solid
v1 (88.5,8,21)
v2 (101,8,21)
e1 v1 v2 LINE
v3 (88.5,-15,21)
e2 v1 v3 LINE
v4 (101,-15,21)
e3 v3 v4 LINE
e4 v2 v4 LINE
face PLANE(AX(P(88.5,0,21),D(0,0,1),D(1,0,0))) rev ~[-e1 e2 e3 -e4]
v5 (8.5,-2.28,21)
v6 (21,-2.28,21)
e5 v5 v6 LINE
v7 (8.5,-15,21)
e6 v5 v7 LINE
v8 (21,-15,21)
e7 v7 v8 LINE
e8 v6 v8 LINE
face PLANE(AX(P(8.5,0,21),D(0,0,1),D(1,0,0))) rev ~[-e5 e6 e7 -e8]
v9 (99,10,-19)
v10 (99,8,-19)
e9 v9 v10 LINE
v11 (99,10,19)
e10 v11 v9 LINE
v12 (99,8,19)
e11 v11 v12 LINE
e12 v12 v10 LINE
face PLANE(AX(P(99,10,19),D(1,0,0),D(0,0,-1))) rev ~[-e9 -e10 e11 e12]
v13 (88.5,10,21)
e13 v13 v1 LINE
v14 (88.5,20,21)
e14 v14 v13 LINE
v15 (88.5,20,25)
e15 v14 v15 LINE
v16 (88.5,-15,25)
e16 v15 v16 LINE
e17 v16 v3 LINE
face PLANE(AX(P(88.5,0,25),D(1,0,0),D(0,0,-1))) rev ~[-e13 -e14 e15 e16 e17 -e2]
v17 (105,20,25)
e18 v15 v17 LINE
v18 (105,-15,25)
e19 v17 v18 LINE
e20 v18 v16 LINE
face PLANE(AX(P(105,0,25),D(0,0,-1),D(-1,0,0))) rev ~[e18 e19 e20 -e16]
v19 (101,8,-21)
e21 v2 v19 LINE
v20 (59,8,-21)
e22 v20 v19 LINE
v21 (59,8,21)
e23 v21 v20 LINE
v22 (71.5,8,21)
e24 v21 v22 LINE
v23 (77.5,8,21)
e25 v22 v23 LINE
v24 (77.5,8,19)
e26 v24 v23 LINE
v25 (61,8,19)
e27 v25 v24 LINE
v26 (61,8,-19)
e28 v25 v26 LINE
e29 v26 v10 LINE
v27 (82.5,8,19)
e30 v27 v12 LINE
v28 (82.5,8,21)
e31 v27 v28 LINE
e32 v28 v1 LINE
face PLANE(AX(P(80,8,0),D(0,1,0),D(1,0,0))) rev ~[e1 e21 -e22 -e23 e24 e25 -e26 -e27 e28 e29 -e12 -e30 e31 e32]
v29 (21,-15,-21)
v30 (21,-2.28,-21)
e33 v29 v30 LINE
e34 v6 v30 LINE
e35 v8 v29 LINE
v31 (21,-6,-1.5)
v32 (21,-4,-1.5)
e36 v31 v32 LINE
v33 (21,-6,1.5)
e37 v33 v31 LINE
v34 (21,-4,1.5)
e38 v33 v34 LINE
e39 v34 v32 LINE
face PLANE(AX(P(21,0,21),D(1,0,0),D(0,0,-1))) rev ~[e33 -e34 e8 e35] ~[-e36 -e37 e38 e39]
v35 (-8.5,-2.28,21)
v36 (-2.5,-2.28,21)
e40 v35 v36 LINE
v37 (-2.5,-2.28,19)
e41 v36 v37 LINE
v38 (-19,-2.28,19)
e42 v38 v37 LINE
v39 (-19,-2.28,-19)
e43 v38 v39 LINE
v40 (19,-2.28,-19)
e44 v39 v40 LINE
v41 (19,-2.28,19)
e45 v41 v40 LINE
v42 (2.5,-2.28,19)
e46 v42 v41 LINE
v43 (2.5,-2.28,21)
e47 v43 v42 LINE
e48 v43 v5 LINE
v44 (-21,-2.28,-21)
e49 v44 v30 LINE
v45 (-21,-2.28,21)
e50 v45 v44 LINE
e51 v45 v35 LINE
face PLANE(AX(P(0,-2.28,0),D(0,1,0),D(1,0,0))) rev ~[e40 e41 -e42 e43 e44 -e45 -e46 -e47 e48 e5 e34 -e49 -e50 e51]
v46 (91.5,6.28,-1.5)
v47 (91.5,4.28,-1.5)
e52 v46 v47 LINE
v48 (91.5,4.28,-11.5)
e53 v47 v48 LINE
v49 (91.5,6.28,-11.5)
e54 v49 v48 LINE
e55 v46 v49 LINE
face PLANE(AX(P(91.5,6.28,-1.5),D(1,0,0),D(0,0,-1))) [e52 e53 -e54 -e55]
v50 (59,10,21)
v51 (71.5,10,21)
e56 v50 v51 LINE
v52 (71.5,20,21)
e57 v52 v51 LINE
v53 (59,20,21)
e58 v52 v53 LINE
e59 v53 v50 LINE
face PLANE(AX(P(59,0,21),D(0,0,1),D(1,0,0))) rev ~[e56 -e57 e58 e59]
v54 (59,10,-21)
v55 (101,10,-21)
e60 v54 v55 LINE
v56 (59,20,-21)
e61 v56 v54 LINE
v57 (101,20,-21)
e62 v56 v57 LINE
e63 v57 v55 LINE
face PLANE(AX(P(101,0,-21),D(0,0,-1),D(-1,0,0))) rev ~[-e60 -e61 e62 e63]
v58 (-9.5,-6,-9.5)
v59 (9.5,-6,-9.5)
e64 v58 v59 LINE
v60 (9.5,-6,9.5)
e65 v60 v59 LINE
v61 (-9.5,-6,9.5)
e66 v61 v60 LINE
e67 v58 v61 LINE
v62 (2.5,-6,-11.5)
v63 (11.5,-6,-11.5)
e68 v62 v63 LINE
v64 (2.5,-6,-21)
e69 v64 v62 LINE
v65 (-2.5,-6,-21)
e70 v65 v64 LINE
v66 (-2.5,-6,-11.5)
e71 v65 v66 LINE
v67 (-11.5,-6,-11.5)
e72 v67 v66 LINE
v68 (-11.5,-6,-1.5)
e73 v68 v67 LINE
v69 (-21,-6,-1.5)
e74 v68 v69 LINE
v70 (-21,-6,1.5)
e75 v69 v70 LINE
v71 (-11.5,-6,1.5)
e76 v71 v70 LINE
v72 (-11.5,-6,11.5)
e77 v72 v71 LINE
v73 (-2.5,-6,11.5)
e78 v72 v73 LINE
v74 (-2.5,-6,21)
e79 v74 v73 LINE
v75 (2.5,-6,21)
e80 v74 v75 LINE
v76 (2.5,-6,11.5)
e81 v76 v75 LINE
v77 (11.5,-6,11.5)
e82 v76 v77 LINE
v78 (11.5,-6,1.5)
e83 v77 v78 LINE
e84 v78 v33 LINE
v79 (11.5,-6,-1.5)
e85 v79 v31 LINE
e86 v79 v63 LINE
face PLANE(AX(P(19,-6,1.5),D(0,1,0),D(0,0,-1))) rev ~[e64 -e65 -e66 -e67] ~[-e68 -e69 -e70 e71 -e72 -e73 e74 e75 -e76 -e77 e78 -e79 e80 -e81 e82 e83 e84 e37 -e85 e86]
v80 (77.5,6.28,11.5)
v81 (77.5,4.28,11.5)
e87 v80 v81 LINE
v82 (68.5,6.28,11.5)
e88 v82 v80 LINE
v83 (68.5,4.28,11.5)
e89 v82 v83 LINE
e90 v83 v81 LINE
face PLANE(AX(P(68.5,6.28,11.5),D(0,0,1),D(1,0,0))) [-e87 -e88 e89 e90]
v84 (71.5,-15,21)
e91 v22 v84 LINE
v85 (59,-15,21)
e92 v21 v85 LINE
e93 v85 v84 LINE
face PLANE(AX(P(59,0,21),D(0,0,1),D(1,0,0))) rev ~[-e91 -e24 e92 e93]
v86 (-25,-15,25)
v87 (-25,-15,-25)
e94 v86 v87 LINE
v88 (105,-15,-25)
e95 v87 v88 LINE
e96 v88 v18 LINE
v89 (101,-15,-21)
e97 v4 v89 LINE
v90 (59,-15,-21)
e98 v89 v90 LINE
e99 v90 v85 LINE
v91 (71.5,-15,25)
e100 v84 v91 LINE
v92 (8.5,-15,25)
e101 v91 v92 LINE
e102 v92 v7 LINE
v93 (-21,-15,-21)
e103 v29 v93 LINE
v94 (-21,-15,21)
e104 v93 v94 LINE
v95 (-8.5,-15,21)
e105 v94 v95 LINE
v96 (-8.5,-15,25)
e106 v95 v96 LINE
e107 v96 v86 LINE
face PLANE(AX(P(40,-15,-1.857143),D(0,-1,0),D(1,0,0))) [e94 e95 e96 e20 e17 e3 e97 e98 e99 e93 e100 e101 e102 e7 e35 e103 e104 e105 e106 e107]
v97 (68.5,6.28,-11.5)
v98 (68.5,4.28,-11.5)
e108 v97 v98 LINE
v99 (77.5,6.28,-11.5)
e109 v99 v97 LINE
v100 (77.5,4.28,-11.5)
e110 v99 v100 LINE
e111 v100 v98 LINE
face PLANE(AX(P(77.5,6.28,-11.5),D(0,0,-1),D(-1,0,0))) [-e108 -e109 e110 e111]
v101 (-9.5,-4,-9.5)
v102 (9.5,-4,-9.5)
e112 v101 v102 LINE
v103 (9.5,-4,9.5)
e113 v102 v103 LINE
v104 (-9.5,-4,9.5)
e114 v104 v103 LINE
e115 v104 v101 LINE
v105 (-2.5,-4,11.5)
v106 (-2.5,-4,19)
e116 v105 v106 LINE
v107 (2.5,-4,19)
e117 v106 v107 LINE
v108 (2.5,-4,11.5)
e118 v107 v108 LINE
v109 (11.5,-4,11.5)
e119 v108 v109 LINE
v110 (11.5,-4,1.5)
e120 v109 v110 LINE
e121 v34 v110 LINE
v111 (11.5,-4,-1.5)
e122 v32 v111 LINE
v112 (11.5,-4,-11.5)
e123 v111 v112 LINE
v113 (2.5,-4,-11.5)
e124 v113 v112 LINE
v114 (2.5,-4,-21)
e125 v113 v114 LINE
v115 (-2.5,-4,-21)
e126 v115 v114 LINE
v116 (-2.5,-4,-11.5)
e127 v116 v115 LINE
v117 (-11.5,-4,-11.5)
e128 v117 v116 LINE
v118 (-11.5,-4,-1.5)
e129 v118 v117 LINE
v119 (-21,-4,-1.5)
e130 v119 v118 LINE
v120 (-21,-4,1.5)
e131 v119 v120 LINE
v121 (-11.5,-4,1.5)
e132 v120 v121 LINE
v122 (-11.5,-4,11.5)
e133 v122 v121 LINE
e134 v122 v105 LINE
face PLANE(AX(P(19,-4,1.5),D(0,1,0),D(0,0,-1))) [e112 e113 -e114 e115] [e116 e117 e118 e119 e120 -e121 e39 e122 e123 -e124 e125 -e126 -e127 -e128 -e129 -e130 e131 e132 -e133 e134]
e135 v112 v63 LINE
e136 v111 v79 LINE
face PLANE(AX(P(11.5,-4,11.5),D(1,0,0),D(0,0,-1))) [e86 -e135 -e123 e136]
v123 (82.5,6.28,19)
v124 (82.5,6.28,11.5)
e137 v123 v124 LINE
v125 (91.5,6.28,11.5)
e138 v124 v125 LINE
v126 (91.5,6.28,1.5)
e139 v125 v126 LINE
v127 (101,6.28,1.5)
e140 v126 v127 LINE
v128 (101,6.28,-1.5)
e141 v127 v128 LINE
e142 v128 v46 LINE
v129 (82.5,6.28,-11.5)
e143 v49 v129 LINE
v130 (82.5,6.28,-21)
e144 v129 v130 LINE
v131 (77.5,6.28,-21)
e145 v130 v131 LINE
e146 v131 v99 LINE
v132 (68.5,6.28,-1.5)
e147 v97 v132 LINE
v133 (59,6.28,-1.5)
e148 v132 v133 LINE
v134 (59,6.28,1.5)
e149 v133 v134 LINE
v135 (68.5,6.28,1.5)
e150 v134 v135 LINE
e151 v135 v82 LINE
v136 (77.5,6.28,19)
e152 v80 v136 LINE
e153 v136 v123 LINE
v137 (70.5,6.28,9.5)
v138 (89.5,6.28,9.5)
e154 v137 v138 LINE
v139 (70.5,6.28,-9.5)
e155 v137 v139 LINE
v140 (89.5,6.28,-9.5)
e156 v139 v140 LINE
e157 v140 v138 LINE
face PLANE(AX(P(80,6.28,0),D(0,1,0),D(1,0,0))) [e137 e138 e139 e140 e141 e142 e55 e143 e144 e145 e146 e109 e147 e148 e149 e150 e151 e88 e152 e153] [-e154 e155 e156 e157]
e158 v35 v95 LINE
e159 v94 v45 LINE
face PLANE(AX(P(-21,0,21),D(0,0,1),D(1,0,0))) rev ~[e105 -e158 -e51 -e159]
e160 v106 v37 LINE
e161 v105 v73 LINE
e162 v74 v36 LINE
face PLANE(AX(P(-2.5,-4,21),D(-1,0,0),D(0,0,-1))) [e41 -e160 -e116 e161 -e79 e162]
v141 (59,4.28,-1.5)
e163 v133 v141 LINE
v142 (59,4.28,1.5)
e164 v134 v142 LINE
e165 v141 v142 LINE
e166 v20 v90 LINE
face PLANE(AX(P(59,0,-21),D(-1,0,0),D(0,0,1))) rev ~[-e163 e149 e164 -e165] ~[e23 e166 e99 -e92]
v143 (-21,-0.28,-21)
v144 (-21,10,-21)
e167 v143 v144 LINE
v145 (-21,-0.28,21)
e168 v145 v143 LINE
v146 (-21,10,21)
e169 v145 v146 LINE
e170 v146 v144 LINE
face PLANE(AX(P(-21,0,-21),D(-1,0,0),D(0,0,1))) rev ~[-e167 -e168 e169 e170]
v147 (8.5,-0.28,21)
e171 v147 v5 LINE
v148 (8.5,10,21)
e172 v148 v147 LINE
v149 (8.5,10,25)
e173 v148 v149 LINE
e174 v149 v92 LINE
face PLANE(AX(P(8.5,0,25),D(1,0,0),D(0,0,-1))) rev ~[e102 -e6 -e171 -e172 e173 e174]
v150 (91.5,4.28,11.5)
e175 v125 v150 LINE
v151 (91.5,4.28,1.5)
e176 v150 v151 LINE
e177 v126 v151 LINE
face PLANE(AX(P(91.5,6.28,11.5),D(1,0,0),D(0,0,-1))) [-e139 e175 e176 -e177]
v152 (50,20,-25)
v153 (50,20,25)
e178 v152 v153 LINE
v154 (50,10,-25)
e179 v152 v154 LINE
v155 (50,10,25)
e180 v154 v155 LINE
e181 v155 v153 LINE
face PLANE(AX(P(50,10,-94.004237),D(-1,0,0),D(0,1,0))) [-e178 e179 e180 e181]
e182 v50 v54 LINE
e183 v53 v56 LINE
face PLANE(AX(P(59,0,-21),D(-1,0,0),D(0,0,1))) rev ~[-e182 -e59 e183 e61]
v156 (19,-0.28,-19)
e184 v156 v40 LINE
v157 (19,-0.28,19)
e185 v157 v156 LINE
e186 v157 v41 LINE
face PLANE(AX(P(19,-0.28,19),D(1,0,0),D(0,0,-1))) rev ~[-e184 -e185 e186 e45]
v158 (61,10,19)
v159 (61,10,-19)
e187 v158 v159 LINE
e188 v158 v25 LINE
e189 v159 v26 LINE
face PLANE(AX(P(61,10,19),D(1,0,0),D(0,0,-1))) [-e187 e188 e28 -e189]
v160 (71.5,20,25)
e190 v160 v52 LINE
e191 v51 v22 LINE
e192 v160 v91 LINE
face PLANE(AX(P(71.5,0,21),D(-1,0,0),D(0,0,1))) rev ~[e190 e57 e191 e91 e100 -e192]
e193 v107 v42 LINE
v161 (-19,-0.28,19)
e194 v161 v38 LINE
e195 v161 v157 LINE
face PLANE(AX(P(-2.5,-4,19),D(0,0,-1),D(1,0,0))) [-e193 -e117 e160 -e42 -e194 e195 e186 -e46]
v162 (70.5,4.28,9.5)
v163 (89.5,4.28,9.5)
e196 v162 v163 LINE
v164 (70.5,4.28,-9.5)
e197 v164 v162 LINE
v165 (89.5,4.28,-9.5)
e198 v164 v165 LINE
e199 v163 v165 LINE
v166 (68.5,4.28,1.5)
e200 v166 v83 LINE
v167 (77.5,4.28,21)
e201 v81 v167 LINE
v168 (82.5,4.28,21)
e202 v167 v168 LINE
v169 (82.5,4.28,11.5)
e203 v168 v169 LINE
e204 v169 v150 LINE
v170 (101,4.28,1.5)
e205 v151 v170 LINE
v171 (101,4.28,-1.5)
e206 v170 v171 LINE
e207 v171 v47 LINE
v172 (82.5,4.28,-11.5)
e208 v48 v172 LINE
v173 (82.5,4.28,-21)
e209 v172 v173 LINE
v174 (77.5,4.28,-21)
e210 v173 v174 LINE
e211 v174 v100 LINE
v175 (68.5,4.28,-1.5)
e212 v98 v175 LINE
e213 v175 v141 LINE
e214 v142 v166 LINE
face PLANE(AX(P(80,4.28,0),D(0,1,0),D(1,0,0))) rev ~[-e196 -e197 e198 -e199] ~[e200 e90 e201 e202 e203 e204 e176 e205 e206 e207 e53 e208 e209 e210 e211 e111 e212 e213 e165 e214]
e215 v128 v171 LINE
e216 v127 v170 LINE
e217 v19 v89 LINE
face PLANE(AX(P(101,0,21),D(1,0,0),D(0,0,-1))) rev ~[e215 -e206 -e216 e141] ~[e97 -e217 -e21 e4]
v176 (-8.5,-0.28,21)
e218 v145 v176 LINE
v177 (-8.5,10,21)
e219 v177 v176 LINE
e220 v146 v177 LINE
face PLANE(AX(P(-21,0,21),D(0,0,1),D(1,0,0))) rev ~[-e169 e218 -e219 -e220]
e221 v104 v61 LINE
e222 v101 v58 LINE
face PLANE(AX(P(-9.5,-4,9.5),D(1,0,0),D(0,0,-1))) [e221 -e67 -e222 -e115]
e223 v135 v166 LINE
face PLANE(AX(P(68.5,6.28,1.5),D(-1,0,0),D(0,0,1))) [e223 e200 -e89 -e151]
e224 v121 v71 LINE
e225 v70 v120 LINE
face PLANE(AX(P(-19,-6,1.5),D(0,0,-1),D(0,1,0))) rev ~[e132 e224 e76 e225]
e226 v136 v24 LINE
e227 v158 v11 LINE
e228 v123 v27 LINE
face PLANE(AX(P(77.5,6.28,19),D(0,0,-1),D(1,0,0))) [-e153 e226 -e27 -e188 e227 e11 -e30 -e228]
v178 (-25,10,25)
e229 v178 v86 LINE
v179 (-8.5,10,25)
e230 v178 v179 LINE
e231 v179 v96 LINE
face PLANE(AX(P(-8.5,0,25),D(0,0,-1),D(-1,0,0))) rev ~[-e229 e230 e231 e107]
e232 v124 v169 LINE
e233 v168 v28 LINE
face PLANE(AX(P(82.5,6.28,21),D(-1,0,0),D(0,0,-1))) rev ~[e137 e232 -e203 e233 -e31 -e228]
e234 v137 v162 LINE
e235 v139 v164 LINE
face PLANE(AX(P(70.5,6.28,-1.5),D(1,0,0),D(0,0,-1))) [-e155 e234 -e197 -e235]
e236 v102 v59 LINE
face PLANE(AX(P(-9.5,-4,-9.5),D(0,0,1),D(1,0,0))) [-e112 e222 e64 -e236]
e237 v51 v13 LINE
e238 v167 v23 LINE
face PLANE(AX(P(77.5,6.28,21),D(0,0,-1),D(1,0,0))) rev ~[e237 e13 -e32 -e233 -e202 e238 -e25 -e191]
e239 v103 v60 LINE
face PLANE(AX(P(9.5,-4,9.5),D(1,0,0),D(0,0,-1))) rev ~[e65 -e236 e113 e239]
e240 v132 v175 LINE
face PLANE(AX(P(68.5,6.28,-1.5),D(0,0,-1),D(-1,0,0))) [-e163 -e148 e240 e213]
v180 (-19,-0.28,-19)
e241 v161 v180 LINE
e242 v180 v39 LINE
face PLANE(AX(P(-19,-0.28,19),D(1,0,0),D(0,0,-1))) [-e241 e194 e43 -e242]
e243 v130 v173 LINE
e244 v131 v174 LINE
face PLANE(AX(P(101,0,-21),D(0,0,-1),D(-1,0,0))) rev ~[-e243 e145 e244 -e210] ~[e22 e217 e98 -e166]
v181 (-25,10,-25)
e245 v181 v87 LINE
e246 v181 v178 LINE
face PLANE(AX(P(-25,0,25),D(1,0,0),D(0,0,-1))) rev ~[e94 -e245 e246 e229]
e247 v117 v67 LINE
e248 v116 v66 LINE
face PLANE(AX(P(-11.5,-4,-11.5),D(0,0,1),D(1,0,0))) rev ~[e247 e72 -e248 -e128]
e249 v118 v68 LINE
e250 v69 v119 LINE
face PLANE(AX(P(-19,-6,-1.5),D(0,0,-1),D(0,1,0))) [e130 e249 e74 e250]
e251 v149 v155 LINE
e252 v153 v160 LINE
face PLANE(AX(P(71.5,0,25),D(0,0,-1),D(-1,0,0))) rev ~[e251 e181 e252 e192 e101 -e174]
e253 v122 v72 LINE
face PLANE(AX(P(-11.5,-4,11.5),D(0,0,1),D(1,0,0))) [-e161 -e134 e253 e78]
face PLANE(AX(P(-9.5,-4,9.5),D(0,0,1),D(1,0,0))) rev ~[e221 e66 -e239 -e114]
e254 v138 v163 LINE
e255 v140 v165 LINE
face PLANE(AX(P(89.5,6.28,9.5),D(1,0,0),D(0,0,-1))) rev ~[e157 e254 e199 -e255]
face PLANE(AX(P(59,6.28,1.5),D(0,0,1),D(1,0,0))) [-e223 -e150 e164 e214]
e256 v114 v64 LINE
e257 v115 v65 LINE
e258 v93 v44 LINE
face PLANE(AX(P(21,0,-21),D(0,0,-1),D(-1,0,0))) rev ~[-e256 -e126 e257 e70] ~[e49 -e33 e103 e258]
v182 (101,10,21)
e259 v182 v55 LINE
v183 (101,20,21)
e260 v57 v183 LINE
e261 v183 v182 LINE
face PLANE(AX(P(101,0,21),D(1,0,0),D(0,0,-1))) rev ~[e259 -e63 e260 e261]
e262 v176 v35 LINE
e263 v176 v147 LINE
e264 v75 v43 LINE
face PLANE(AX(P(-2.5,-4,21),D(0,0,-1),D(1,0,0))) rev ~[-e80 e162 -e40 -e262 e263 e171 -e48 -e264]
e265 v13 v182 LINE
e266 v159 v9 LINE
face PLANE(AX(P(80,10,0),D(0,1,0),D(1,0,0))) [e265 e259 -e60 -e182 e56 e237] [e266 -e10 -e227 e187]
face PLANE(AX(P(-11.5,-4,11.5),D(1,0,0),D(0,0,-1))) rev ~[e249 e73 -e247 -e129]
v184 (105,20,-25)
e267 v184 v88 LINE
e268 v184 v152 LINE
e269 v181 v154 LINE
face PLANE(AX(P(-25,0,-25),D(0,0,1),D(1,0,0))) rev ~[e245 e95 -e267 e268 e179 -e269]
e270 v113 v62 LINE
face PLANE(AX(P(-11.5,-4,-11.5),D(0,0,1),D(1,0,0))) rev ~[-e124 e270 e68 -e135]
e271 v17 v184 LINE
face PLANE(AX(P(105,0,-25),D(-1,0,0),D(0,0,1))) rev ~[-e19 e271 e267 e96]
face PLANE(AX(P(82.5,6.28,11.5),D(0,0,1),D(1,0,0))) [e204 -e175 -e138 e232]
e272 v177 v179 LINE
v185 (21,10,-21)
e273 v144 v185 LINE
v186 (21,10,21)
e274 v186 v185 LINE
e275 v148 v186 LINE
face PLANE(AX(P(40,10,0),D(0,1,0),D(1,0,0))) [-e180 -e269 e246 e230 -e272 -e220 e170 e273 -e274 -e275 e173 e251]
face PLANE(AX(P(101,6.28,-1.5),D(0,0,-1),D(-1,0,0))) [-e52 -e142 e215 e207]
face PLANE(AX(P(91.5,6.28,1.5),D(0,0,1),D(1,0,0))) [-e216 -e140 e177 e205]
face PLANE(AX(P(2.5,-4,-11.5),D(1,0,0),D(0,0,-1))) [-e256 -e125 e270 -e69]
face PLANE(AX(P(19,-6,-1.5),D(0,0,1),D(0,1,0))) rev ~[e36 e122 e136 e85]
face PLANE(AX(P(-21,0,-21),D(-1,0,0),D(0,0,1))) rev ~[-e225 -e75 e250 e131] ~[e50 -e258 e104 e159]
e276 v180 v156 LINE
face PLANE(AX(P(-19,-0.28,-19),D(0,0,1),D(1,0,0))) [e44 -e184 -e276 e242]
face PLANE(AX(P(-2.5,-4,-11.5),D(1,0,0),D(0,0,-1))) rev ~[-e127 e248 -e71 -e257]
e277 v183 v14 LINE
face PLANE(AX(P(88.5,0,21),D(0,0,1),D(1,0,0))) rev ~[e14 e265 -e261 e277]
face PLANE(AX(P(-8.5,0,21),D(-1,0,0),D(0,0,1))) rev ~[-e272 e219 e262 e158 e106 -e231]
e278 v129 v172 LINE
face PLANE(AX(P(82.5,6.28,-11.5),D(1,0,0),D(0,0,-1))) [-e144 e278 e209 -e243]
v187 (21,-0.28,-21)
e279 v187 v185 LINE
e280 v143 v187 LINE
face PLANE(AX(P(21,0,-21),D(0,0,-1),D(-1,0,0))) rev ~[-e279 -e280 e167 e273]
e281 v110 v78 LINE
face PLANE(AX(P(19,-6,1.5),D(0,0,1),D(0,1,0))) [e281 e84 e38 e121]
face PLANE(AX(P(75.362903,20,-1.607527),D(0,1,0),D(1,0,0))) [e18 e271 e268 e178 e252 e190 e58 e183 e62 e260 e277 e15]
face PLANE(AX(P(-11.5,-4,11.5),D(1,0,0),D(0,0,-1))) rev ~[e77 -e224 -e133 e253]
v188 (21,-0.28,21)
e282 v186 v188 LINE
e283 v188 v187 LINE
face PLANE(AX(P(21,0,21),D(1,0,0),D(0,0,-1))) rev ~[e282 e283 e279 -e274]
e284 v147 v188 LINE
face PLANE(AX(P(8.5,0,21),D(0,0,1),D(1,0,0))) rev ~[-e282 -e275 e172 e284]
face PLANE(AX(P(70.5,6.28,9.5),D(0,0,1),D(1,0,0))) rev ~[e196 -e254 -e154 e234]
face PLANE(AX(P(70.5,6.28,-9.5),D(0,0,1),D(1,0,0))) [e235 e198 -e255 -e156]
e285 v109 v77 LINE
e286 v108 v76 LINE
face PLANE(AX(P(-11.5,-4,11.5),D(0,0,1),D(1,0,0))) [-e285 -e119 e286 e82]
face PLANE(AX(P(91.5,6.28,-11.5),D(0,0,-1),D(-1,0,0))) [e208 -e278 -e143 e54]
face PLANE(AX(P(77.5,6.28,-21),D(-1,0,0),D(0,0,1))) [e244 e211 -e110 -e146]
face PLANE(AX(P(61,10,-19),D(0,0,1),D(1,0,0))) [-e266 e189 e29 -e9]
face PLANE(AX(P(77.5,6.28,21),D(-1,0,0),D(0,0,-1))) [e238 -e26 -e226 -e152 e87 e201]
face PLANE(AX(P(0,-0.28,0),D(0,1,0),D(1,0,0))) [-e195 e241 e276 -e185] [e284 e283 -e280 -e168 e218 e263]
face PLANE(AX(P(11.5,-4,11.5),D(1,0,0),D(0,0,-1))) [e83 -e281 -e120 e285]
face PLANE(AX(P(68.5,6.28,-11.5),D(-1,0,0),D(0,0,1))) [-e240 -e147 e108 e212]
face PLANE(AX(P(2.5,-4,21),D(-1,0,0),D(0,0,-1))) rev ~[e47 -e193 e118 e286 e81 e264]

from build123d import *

# Parameters (mm, degrees)
SKETCH1_W               = 42
SKETCH1_H               = 42
BOSS_EXTRUDE4_DEPTH     = 10
CUT_EXTRUDE3_DEPTH      = 117.726175299
CUT_EXTRUDE3_DEPTH_BACK = 4
SKETCH5_W               = 17
SKETCH5_H               = 10
BOSS_EXTRUDE5_DEPTH     = 10
CUT_EXTRUDE5_DEPTH      = 119.004237212
CUT_EXTRUDE5_DEPTH_BACK = 119.004237212
SKETCH8_W               = 10
SKETCH8_H               = 10
BOSS_EXTRUDE6_DEPTH     = 15
BOSS_EXTRUDE7_START     = -10.28
SKETCH10_W              = 42
SKETCH10_H              = 42
SKETCH10_W_2            = 38
SKETCH10_H_2            = 38
BOSS_EXTRUDE7_DEPTH     = 2
BOSS_EXTRUDE8_START     = -10
SKETCH11_W              = 42
SKETCH11_H              = 42
SKETCH11_W_2            = 38
SKETCH11_H_2            = 38
BOSS_EXTRUDE8_DEPTH     = 2
SKETCH12_W              = 5
SKETCH12_H              = 7.5
SKETCH12_H_2            = 6
SKETCH12_W_2            = 23
SKETCH12_H_3            = 23
SKETCH12_W_3            = 19
SKETCH12_H_4            = 19
SKETCH12_H_5            = 2
SKETCH12_W_4            = 7.5
SKETCH12_H_6            = 3
SKETCH12_W_5            = 2
BOSS_EXTRUDE9_DEPTH     = 2
SKETCH15_W              = 5
SKETCH15_H              = 2
BOSS_EXTRUDE12_DEPTH    = 1.72
SKETCH16_W              = 3
SKETCH16_H              = 2
BOSS_EXTRUDE13_DEPTH    = 2
SKETCH17_W              = 3
SKETCH17_H              = 2
BOSS_EXTRUDE14_DEPTH    = 2
SKETCH19_W              = 19
SKETCH19_H              = 8
BOSS_EXTRUDE15_DEPTH    = 2
SKETCH20_W              = 19
SKETCH20_H              = 19
CUT_EXTRUDE6_DEPTH      = 2
SKETCH21_W              = 5
SKETCH21_H              = 2
BOSS_EXTRUDE16_DEPTH    = 2


with BuildPart() as part:
    # Sketch1 → Boss-Extrude4 (new body)
    with BuildSketch(Plane(origin=(0, 0, 0), x_dir=(1, 0, 0), z_dir=(0, 1, 0))):
        Polygon((-25, -25), (25, -25), (55, -25), (105, -25), (105, 25), (55, 25), (25, 25), (-25, 25), align=None)
        with Locations((80, 0)):
            Rectangle(SKETCH1_W, SKETCH1_H, mode=Mode.SUBTRACT)
        Rectangle(SKETCH1_W, SKETCH1_H, mode=Mode.SUBTRACT)
    extrude(amount=BOSS_EXTRUDE4_DEPTH)

    # Sketch5 → Cut-Extrude3 (cut, two sides: drawn at the far end of the back side and taken through both)
    with BuildSketch(Plane.XY.offset(25).offset(-CUT_EXTRUDE3_DEPTH_BACK)):
        with Locations((0, 5)):
            Rectangle(SKETCH5_W, SKETCH5_H)
        with Locations((80, 5)):
            Rectangle(SKETCH5_W, SKETCH5_H)
    extrude(amount=CUT_EXTRUDE3_DEPTH + CUT_EXTRUDE3_DEPTH_BACK, mode=Mode.SUBTRACT)

    # Sketch6 → Boss-Extrude5 (add)
    with BuildSketch(Plane(origin=(0, 10, 0), x_dir=(1, 0, 0), z_dir=(0, 1, 0))):
        Polygon((105, 25), (40, 25), (40, -25), (71.5, -25), (71.5, -21), (59, -21), (59, 21), (101, 21), (101, -21), (88.5, -21), (88.5, -25), (105, -25), align=None)
    extrude(amount=BOSS_EXTRUDE5_DEPTH)

    # Sketch8 → Cut-Extrude5 (cut, two sides: drawn at the far end of the back side and taken through both)
    with BuildSketch(Plane.XY.offset(25).offset(-CUT_EXTRUDE5_DEPTH_BACK)):
        with Locations((45, 15)):
            Rectangle(SKETCH8_W, SKETCH8_H)
    extrude(amount=CUT_EXTRUDE5_DEPTH + CUT_EXTRUDE5_DEPTH_BACK, mode=Mode.SUBTRACT)

    # Sketch9 → Boss-Extrude6 (add)
    with BuildSketch(Plane.XZ):
        Polygon((-21, 21), (-8.5, 21), (-8.5, 25), (-25, 25), (-25, -25), (105, -25), (105, 25), (88.5, 25), (88.5, 21), (101, 21), (101, -21), (59, -21), (59, 21), (71.5, 21), (71.5, 25), (8.5, 25), (8.5, 21), (21, 21), (21, -21), (-21, -21), align=None)
    extrude(amount=BOSS_EXTRUDE6_DEPTH)

    # Sketch10 → Boss-Extrude7 (add)
    with BuildSketch(Plane(origin=(0, 10, 0), x_dir=(1, 0, 0), z_dir=(0, 1, 0)).offset(BOSS_EXTRUDE7_START)):
        Rectangle(SKETCH10_W, SKETCH10_H)
        Rectangle(SKETCH10_W_2, SKETCH10_H_2, mode=Mode.SUBTRACT)
    extrude(amount=-BOSS_EXTRUDE7_DEPTH)

    # Sketch11 → Boss-Extrude8 (add)
    with BuildSketch(Plane(origin=(0, 20, 0), x_dir=(1, 0, 0), z_dir=(0, 1, 0)).offset(BOSS_EXTRUDE8_START)):
        with Locations((80, 0)):
            Rectangle(SKETCH11_W, SKETCH11_H)
        with Locations((80, 0)):
            Rectangle(SKETCH11_W_2, SKETCH11_H_2, mode=Mode.SUBTRACT)
    extrude(amount=-BOSS_EXTRUDE8_DEPTH)

    # Sketch12 → Boss-Extrude9 (add)
    # profile 1 of 10: a face of its own
    with BuildSketch(Plane(origin=(0, -4, 0), x_dir=(1, 0, 0), z_dir=(0, 1, 0))):
        with Locations((0, 15.25)):
            Rectangle(SKETCH12_W, SKETCH12_H)
    # profile 2 of 10: a face of its own
    with BuildSketch(Plane(origin=(0, -4, 0), x_dir=(1, 0, 0), z_dir=(0, 1, 0))):
        with Locations((0, 22)):
            Rectangle(SKETCH12_W, SKETCH12_H_2)
    # profile 3 of 10: a face of its own
    with BuildSketch(Plane(origin=(0, -4, 0), x_dir=(1, 0, 0), z_dir=(0, 1, 0))):
        Rectangle(SKETCH12_W_2, SKETCH12_H_3)
        Rectangle(SKETCH12_W_3, SKETCH12_H_4, mode=Mode.SUBTRACT)
    # profile 4 of 10: a face of its own
    with BuildSketch(Plane(origin=(0, -4, 0), x_dir=(1, 0, 0), z_dir=(0, 1, 0))):
        with Locations((0, -15.25)):
            Rectangle(SKETCH12_W, SKETCH12_H)
    # profile 5 of 10: a face of its own
    with BuildSketch(Plane(origin=(0, -4, 0), x_dir=(1, 0, 0), z_dir=(0, 1, 0))):
        with Locations((0, -20)):
            Rectangle(SKETCH12_W, SKETCH12_H_5)
    # profile 6 of 10: a face of its own
    with BuildSketch(Plane(origin=(0, -4, 0), x_dir=(1, 0, 0), z_dir=(0, 1, 0))):
        with Locations((-15.25, 0)):
            Rectangle(SKETCH12_W_4, SKETCH12_H_6)
    # profile 7 of 10: a face of its own
    with BuildSketch(Plane(origin=(0, -4, 0), x_dir=(1, 0, 0), z_dir=(0, 1, 0))):
        with Locations((-10.5, 0)):
            Rectangle(SKETCH12_W_5, SKETCH12_H_6)
    # profile 8 of 10: a face of its own
    with BuildSketch(Plane(origin=(0, -4, 0), x_dir=(1, 0, 0), z_dir=(0, 1, 0))):
        Polygon((-9.5, -1.5), (-11.5, -1.5), (-11.5, -11.5), (-2.5, -11.5), (2.5, -11.5), (11.5, -11.5), (11.5, -1.5), (9.5, -1.5), (9.5, -9.5), (2.5, -9.5), (-2.5, -9.5), (-9.5, -9.5), align=None)
    # profile 9 of 10: a face of its own
    with BuildSketch(Plane(origin=(0, -4, 0), x_dir=(1, 0, 0), z_dir=(0, 1, 0))):
        with Locations((10.5, 0)):
            Rectangle(SKETCH12_W_5, SKETCH12_H_6)
    # profile 10 of 10: a face of its own
    with BuildSketch(Plane(origin=(0, -4, 0), x_dir=(1, 0, 0), z_dir=(0, 1, 0))):
        with Locations((15.25, 0)):
            Rectangle(SKETCH12_W_4, SKETCH12_H_6)
    extrude(amount=-BOSS_EXTRUDE9_DEPTH)

    # Sketch15 → Boss-Extrude12 (add)
    with BuildSketch(Plane(origin=(0, -4, 0), x_dir=(1, 0, 0), z_dir=(0, 1, 0))):
        with Locations((0, -20)):
            Rectangle(SKETCH15_W, SKETCH15_H)
    extrude(amount=BOSS_EXTRUDE12_DEPTH)

    # Sketch16 → Boss-Extrude13 (add)
    with BuildSketch(Plane.ZY.offset(19)):
        with Locations((0, -5)):
            Rectangle(SKETCH16_W, SKETCH16_H)
    extrude(amount=BOSS_EXTRUDE13_DEPTH)

    # Sketch17 → Boss-Extrude14 (add)
    with BuildSketch(Plane(origin=(19, 0, 0), x_dir=(0, 0, -1), z_dir=(1, 0, 0))):
        with Locations((0, -5)):
            Rectangle(SKETCH17_W, SKETCH17_H)
    extrude(amount=BOSS_EXTRUDE14_DEPTH)

    # Sketch19 → Boss-Extrude15 (add)
    with BuildSketch(Plane(origin=(0, 6.28, 0), x_dir=(1, 0, 0), z_dir=(0, 1, 0))):
        Polygon((91.5, 11.5), (82.5, 11.5), (82.5, 21), (77.5, 21), (77.5, 11.5), (68.5, 11.5), (68.5, 1.5), (59, 1.5), (59, -1.5), (68.5, -1.5), (68.5, -11.5), (77.5, -11.5), (77.5, -21), (82.5, -21), (82.5, -11.5), (91.5, -11.5), (91.5, -1.5), (101, -1.5), (101, 1.5), (91.5, 1.5), align=None)
        with Locations((80, -5.5)):
            Rectangle(SKETCH19_W, SKETCH19_H, mode=Mode.SUBTRACT)
        with Locations((80, 5.5)):
            Rectangle(SKETCH19_W, SKETCH19_H, mode=Mode.SUBTRACT)
    extrude(amount=-BOSS_EXTRUDE15_DEPTH)

    # Sketch20 → Cut-Extrude6 (cut)
    with BuildSketch(Plane(origin=(0, 6.28, 0), x_dir=(1, 0, 0), z_dir=(0, 1, 0))):
        with Locations((80, 0)):
            Rectangle(SKETCH20_W, SKETCH20_H)
    extrude(amount=-CUT_EXTRUDE6_DEPTH, mode=Mode.SUBTRACT)

    # Sketch21 → Boss-Extrude16 (add)
    with BuildSketch(Plane(origin=(0, 6.28, 0), x_dir=(1, 0, 0), z_dir=(0, 1, 0))):
        with Locations((80, -20)):
            Rectangle(SKETCH21_W, SKETCH21_H)
    extrude(amount=BOSS_EXTRUDE16_DEPTH)


solid = part.part
